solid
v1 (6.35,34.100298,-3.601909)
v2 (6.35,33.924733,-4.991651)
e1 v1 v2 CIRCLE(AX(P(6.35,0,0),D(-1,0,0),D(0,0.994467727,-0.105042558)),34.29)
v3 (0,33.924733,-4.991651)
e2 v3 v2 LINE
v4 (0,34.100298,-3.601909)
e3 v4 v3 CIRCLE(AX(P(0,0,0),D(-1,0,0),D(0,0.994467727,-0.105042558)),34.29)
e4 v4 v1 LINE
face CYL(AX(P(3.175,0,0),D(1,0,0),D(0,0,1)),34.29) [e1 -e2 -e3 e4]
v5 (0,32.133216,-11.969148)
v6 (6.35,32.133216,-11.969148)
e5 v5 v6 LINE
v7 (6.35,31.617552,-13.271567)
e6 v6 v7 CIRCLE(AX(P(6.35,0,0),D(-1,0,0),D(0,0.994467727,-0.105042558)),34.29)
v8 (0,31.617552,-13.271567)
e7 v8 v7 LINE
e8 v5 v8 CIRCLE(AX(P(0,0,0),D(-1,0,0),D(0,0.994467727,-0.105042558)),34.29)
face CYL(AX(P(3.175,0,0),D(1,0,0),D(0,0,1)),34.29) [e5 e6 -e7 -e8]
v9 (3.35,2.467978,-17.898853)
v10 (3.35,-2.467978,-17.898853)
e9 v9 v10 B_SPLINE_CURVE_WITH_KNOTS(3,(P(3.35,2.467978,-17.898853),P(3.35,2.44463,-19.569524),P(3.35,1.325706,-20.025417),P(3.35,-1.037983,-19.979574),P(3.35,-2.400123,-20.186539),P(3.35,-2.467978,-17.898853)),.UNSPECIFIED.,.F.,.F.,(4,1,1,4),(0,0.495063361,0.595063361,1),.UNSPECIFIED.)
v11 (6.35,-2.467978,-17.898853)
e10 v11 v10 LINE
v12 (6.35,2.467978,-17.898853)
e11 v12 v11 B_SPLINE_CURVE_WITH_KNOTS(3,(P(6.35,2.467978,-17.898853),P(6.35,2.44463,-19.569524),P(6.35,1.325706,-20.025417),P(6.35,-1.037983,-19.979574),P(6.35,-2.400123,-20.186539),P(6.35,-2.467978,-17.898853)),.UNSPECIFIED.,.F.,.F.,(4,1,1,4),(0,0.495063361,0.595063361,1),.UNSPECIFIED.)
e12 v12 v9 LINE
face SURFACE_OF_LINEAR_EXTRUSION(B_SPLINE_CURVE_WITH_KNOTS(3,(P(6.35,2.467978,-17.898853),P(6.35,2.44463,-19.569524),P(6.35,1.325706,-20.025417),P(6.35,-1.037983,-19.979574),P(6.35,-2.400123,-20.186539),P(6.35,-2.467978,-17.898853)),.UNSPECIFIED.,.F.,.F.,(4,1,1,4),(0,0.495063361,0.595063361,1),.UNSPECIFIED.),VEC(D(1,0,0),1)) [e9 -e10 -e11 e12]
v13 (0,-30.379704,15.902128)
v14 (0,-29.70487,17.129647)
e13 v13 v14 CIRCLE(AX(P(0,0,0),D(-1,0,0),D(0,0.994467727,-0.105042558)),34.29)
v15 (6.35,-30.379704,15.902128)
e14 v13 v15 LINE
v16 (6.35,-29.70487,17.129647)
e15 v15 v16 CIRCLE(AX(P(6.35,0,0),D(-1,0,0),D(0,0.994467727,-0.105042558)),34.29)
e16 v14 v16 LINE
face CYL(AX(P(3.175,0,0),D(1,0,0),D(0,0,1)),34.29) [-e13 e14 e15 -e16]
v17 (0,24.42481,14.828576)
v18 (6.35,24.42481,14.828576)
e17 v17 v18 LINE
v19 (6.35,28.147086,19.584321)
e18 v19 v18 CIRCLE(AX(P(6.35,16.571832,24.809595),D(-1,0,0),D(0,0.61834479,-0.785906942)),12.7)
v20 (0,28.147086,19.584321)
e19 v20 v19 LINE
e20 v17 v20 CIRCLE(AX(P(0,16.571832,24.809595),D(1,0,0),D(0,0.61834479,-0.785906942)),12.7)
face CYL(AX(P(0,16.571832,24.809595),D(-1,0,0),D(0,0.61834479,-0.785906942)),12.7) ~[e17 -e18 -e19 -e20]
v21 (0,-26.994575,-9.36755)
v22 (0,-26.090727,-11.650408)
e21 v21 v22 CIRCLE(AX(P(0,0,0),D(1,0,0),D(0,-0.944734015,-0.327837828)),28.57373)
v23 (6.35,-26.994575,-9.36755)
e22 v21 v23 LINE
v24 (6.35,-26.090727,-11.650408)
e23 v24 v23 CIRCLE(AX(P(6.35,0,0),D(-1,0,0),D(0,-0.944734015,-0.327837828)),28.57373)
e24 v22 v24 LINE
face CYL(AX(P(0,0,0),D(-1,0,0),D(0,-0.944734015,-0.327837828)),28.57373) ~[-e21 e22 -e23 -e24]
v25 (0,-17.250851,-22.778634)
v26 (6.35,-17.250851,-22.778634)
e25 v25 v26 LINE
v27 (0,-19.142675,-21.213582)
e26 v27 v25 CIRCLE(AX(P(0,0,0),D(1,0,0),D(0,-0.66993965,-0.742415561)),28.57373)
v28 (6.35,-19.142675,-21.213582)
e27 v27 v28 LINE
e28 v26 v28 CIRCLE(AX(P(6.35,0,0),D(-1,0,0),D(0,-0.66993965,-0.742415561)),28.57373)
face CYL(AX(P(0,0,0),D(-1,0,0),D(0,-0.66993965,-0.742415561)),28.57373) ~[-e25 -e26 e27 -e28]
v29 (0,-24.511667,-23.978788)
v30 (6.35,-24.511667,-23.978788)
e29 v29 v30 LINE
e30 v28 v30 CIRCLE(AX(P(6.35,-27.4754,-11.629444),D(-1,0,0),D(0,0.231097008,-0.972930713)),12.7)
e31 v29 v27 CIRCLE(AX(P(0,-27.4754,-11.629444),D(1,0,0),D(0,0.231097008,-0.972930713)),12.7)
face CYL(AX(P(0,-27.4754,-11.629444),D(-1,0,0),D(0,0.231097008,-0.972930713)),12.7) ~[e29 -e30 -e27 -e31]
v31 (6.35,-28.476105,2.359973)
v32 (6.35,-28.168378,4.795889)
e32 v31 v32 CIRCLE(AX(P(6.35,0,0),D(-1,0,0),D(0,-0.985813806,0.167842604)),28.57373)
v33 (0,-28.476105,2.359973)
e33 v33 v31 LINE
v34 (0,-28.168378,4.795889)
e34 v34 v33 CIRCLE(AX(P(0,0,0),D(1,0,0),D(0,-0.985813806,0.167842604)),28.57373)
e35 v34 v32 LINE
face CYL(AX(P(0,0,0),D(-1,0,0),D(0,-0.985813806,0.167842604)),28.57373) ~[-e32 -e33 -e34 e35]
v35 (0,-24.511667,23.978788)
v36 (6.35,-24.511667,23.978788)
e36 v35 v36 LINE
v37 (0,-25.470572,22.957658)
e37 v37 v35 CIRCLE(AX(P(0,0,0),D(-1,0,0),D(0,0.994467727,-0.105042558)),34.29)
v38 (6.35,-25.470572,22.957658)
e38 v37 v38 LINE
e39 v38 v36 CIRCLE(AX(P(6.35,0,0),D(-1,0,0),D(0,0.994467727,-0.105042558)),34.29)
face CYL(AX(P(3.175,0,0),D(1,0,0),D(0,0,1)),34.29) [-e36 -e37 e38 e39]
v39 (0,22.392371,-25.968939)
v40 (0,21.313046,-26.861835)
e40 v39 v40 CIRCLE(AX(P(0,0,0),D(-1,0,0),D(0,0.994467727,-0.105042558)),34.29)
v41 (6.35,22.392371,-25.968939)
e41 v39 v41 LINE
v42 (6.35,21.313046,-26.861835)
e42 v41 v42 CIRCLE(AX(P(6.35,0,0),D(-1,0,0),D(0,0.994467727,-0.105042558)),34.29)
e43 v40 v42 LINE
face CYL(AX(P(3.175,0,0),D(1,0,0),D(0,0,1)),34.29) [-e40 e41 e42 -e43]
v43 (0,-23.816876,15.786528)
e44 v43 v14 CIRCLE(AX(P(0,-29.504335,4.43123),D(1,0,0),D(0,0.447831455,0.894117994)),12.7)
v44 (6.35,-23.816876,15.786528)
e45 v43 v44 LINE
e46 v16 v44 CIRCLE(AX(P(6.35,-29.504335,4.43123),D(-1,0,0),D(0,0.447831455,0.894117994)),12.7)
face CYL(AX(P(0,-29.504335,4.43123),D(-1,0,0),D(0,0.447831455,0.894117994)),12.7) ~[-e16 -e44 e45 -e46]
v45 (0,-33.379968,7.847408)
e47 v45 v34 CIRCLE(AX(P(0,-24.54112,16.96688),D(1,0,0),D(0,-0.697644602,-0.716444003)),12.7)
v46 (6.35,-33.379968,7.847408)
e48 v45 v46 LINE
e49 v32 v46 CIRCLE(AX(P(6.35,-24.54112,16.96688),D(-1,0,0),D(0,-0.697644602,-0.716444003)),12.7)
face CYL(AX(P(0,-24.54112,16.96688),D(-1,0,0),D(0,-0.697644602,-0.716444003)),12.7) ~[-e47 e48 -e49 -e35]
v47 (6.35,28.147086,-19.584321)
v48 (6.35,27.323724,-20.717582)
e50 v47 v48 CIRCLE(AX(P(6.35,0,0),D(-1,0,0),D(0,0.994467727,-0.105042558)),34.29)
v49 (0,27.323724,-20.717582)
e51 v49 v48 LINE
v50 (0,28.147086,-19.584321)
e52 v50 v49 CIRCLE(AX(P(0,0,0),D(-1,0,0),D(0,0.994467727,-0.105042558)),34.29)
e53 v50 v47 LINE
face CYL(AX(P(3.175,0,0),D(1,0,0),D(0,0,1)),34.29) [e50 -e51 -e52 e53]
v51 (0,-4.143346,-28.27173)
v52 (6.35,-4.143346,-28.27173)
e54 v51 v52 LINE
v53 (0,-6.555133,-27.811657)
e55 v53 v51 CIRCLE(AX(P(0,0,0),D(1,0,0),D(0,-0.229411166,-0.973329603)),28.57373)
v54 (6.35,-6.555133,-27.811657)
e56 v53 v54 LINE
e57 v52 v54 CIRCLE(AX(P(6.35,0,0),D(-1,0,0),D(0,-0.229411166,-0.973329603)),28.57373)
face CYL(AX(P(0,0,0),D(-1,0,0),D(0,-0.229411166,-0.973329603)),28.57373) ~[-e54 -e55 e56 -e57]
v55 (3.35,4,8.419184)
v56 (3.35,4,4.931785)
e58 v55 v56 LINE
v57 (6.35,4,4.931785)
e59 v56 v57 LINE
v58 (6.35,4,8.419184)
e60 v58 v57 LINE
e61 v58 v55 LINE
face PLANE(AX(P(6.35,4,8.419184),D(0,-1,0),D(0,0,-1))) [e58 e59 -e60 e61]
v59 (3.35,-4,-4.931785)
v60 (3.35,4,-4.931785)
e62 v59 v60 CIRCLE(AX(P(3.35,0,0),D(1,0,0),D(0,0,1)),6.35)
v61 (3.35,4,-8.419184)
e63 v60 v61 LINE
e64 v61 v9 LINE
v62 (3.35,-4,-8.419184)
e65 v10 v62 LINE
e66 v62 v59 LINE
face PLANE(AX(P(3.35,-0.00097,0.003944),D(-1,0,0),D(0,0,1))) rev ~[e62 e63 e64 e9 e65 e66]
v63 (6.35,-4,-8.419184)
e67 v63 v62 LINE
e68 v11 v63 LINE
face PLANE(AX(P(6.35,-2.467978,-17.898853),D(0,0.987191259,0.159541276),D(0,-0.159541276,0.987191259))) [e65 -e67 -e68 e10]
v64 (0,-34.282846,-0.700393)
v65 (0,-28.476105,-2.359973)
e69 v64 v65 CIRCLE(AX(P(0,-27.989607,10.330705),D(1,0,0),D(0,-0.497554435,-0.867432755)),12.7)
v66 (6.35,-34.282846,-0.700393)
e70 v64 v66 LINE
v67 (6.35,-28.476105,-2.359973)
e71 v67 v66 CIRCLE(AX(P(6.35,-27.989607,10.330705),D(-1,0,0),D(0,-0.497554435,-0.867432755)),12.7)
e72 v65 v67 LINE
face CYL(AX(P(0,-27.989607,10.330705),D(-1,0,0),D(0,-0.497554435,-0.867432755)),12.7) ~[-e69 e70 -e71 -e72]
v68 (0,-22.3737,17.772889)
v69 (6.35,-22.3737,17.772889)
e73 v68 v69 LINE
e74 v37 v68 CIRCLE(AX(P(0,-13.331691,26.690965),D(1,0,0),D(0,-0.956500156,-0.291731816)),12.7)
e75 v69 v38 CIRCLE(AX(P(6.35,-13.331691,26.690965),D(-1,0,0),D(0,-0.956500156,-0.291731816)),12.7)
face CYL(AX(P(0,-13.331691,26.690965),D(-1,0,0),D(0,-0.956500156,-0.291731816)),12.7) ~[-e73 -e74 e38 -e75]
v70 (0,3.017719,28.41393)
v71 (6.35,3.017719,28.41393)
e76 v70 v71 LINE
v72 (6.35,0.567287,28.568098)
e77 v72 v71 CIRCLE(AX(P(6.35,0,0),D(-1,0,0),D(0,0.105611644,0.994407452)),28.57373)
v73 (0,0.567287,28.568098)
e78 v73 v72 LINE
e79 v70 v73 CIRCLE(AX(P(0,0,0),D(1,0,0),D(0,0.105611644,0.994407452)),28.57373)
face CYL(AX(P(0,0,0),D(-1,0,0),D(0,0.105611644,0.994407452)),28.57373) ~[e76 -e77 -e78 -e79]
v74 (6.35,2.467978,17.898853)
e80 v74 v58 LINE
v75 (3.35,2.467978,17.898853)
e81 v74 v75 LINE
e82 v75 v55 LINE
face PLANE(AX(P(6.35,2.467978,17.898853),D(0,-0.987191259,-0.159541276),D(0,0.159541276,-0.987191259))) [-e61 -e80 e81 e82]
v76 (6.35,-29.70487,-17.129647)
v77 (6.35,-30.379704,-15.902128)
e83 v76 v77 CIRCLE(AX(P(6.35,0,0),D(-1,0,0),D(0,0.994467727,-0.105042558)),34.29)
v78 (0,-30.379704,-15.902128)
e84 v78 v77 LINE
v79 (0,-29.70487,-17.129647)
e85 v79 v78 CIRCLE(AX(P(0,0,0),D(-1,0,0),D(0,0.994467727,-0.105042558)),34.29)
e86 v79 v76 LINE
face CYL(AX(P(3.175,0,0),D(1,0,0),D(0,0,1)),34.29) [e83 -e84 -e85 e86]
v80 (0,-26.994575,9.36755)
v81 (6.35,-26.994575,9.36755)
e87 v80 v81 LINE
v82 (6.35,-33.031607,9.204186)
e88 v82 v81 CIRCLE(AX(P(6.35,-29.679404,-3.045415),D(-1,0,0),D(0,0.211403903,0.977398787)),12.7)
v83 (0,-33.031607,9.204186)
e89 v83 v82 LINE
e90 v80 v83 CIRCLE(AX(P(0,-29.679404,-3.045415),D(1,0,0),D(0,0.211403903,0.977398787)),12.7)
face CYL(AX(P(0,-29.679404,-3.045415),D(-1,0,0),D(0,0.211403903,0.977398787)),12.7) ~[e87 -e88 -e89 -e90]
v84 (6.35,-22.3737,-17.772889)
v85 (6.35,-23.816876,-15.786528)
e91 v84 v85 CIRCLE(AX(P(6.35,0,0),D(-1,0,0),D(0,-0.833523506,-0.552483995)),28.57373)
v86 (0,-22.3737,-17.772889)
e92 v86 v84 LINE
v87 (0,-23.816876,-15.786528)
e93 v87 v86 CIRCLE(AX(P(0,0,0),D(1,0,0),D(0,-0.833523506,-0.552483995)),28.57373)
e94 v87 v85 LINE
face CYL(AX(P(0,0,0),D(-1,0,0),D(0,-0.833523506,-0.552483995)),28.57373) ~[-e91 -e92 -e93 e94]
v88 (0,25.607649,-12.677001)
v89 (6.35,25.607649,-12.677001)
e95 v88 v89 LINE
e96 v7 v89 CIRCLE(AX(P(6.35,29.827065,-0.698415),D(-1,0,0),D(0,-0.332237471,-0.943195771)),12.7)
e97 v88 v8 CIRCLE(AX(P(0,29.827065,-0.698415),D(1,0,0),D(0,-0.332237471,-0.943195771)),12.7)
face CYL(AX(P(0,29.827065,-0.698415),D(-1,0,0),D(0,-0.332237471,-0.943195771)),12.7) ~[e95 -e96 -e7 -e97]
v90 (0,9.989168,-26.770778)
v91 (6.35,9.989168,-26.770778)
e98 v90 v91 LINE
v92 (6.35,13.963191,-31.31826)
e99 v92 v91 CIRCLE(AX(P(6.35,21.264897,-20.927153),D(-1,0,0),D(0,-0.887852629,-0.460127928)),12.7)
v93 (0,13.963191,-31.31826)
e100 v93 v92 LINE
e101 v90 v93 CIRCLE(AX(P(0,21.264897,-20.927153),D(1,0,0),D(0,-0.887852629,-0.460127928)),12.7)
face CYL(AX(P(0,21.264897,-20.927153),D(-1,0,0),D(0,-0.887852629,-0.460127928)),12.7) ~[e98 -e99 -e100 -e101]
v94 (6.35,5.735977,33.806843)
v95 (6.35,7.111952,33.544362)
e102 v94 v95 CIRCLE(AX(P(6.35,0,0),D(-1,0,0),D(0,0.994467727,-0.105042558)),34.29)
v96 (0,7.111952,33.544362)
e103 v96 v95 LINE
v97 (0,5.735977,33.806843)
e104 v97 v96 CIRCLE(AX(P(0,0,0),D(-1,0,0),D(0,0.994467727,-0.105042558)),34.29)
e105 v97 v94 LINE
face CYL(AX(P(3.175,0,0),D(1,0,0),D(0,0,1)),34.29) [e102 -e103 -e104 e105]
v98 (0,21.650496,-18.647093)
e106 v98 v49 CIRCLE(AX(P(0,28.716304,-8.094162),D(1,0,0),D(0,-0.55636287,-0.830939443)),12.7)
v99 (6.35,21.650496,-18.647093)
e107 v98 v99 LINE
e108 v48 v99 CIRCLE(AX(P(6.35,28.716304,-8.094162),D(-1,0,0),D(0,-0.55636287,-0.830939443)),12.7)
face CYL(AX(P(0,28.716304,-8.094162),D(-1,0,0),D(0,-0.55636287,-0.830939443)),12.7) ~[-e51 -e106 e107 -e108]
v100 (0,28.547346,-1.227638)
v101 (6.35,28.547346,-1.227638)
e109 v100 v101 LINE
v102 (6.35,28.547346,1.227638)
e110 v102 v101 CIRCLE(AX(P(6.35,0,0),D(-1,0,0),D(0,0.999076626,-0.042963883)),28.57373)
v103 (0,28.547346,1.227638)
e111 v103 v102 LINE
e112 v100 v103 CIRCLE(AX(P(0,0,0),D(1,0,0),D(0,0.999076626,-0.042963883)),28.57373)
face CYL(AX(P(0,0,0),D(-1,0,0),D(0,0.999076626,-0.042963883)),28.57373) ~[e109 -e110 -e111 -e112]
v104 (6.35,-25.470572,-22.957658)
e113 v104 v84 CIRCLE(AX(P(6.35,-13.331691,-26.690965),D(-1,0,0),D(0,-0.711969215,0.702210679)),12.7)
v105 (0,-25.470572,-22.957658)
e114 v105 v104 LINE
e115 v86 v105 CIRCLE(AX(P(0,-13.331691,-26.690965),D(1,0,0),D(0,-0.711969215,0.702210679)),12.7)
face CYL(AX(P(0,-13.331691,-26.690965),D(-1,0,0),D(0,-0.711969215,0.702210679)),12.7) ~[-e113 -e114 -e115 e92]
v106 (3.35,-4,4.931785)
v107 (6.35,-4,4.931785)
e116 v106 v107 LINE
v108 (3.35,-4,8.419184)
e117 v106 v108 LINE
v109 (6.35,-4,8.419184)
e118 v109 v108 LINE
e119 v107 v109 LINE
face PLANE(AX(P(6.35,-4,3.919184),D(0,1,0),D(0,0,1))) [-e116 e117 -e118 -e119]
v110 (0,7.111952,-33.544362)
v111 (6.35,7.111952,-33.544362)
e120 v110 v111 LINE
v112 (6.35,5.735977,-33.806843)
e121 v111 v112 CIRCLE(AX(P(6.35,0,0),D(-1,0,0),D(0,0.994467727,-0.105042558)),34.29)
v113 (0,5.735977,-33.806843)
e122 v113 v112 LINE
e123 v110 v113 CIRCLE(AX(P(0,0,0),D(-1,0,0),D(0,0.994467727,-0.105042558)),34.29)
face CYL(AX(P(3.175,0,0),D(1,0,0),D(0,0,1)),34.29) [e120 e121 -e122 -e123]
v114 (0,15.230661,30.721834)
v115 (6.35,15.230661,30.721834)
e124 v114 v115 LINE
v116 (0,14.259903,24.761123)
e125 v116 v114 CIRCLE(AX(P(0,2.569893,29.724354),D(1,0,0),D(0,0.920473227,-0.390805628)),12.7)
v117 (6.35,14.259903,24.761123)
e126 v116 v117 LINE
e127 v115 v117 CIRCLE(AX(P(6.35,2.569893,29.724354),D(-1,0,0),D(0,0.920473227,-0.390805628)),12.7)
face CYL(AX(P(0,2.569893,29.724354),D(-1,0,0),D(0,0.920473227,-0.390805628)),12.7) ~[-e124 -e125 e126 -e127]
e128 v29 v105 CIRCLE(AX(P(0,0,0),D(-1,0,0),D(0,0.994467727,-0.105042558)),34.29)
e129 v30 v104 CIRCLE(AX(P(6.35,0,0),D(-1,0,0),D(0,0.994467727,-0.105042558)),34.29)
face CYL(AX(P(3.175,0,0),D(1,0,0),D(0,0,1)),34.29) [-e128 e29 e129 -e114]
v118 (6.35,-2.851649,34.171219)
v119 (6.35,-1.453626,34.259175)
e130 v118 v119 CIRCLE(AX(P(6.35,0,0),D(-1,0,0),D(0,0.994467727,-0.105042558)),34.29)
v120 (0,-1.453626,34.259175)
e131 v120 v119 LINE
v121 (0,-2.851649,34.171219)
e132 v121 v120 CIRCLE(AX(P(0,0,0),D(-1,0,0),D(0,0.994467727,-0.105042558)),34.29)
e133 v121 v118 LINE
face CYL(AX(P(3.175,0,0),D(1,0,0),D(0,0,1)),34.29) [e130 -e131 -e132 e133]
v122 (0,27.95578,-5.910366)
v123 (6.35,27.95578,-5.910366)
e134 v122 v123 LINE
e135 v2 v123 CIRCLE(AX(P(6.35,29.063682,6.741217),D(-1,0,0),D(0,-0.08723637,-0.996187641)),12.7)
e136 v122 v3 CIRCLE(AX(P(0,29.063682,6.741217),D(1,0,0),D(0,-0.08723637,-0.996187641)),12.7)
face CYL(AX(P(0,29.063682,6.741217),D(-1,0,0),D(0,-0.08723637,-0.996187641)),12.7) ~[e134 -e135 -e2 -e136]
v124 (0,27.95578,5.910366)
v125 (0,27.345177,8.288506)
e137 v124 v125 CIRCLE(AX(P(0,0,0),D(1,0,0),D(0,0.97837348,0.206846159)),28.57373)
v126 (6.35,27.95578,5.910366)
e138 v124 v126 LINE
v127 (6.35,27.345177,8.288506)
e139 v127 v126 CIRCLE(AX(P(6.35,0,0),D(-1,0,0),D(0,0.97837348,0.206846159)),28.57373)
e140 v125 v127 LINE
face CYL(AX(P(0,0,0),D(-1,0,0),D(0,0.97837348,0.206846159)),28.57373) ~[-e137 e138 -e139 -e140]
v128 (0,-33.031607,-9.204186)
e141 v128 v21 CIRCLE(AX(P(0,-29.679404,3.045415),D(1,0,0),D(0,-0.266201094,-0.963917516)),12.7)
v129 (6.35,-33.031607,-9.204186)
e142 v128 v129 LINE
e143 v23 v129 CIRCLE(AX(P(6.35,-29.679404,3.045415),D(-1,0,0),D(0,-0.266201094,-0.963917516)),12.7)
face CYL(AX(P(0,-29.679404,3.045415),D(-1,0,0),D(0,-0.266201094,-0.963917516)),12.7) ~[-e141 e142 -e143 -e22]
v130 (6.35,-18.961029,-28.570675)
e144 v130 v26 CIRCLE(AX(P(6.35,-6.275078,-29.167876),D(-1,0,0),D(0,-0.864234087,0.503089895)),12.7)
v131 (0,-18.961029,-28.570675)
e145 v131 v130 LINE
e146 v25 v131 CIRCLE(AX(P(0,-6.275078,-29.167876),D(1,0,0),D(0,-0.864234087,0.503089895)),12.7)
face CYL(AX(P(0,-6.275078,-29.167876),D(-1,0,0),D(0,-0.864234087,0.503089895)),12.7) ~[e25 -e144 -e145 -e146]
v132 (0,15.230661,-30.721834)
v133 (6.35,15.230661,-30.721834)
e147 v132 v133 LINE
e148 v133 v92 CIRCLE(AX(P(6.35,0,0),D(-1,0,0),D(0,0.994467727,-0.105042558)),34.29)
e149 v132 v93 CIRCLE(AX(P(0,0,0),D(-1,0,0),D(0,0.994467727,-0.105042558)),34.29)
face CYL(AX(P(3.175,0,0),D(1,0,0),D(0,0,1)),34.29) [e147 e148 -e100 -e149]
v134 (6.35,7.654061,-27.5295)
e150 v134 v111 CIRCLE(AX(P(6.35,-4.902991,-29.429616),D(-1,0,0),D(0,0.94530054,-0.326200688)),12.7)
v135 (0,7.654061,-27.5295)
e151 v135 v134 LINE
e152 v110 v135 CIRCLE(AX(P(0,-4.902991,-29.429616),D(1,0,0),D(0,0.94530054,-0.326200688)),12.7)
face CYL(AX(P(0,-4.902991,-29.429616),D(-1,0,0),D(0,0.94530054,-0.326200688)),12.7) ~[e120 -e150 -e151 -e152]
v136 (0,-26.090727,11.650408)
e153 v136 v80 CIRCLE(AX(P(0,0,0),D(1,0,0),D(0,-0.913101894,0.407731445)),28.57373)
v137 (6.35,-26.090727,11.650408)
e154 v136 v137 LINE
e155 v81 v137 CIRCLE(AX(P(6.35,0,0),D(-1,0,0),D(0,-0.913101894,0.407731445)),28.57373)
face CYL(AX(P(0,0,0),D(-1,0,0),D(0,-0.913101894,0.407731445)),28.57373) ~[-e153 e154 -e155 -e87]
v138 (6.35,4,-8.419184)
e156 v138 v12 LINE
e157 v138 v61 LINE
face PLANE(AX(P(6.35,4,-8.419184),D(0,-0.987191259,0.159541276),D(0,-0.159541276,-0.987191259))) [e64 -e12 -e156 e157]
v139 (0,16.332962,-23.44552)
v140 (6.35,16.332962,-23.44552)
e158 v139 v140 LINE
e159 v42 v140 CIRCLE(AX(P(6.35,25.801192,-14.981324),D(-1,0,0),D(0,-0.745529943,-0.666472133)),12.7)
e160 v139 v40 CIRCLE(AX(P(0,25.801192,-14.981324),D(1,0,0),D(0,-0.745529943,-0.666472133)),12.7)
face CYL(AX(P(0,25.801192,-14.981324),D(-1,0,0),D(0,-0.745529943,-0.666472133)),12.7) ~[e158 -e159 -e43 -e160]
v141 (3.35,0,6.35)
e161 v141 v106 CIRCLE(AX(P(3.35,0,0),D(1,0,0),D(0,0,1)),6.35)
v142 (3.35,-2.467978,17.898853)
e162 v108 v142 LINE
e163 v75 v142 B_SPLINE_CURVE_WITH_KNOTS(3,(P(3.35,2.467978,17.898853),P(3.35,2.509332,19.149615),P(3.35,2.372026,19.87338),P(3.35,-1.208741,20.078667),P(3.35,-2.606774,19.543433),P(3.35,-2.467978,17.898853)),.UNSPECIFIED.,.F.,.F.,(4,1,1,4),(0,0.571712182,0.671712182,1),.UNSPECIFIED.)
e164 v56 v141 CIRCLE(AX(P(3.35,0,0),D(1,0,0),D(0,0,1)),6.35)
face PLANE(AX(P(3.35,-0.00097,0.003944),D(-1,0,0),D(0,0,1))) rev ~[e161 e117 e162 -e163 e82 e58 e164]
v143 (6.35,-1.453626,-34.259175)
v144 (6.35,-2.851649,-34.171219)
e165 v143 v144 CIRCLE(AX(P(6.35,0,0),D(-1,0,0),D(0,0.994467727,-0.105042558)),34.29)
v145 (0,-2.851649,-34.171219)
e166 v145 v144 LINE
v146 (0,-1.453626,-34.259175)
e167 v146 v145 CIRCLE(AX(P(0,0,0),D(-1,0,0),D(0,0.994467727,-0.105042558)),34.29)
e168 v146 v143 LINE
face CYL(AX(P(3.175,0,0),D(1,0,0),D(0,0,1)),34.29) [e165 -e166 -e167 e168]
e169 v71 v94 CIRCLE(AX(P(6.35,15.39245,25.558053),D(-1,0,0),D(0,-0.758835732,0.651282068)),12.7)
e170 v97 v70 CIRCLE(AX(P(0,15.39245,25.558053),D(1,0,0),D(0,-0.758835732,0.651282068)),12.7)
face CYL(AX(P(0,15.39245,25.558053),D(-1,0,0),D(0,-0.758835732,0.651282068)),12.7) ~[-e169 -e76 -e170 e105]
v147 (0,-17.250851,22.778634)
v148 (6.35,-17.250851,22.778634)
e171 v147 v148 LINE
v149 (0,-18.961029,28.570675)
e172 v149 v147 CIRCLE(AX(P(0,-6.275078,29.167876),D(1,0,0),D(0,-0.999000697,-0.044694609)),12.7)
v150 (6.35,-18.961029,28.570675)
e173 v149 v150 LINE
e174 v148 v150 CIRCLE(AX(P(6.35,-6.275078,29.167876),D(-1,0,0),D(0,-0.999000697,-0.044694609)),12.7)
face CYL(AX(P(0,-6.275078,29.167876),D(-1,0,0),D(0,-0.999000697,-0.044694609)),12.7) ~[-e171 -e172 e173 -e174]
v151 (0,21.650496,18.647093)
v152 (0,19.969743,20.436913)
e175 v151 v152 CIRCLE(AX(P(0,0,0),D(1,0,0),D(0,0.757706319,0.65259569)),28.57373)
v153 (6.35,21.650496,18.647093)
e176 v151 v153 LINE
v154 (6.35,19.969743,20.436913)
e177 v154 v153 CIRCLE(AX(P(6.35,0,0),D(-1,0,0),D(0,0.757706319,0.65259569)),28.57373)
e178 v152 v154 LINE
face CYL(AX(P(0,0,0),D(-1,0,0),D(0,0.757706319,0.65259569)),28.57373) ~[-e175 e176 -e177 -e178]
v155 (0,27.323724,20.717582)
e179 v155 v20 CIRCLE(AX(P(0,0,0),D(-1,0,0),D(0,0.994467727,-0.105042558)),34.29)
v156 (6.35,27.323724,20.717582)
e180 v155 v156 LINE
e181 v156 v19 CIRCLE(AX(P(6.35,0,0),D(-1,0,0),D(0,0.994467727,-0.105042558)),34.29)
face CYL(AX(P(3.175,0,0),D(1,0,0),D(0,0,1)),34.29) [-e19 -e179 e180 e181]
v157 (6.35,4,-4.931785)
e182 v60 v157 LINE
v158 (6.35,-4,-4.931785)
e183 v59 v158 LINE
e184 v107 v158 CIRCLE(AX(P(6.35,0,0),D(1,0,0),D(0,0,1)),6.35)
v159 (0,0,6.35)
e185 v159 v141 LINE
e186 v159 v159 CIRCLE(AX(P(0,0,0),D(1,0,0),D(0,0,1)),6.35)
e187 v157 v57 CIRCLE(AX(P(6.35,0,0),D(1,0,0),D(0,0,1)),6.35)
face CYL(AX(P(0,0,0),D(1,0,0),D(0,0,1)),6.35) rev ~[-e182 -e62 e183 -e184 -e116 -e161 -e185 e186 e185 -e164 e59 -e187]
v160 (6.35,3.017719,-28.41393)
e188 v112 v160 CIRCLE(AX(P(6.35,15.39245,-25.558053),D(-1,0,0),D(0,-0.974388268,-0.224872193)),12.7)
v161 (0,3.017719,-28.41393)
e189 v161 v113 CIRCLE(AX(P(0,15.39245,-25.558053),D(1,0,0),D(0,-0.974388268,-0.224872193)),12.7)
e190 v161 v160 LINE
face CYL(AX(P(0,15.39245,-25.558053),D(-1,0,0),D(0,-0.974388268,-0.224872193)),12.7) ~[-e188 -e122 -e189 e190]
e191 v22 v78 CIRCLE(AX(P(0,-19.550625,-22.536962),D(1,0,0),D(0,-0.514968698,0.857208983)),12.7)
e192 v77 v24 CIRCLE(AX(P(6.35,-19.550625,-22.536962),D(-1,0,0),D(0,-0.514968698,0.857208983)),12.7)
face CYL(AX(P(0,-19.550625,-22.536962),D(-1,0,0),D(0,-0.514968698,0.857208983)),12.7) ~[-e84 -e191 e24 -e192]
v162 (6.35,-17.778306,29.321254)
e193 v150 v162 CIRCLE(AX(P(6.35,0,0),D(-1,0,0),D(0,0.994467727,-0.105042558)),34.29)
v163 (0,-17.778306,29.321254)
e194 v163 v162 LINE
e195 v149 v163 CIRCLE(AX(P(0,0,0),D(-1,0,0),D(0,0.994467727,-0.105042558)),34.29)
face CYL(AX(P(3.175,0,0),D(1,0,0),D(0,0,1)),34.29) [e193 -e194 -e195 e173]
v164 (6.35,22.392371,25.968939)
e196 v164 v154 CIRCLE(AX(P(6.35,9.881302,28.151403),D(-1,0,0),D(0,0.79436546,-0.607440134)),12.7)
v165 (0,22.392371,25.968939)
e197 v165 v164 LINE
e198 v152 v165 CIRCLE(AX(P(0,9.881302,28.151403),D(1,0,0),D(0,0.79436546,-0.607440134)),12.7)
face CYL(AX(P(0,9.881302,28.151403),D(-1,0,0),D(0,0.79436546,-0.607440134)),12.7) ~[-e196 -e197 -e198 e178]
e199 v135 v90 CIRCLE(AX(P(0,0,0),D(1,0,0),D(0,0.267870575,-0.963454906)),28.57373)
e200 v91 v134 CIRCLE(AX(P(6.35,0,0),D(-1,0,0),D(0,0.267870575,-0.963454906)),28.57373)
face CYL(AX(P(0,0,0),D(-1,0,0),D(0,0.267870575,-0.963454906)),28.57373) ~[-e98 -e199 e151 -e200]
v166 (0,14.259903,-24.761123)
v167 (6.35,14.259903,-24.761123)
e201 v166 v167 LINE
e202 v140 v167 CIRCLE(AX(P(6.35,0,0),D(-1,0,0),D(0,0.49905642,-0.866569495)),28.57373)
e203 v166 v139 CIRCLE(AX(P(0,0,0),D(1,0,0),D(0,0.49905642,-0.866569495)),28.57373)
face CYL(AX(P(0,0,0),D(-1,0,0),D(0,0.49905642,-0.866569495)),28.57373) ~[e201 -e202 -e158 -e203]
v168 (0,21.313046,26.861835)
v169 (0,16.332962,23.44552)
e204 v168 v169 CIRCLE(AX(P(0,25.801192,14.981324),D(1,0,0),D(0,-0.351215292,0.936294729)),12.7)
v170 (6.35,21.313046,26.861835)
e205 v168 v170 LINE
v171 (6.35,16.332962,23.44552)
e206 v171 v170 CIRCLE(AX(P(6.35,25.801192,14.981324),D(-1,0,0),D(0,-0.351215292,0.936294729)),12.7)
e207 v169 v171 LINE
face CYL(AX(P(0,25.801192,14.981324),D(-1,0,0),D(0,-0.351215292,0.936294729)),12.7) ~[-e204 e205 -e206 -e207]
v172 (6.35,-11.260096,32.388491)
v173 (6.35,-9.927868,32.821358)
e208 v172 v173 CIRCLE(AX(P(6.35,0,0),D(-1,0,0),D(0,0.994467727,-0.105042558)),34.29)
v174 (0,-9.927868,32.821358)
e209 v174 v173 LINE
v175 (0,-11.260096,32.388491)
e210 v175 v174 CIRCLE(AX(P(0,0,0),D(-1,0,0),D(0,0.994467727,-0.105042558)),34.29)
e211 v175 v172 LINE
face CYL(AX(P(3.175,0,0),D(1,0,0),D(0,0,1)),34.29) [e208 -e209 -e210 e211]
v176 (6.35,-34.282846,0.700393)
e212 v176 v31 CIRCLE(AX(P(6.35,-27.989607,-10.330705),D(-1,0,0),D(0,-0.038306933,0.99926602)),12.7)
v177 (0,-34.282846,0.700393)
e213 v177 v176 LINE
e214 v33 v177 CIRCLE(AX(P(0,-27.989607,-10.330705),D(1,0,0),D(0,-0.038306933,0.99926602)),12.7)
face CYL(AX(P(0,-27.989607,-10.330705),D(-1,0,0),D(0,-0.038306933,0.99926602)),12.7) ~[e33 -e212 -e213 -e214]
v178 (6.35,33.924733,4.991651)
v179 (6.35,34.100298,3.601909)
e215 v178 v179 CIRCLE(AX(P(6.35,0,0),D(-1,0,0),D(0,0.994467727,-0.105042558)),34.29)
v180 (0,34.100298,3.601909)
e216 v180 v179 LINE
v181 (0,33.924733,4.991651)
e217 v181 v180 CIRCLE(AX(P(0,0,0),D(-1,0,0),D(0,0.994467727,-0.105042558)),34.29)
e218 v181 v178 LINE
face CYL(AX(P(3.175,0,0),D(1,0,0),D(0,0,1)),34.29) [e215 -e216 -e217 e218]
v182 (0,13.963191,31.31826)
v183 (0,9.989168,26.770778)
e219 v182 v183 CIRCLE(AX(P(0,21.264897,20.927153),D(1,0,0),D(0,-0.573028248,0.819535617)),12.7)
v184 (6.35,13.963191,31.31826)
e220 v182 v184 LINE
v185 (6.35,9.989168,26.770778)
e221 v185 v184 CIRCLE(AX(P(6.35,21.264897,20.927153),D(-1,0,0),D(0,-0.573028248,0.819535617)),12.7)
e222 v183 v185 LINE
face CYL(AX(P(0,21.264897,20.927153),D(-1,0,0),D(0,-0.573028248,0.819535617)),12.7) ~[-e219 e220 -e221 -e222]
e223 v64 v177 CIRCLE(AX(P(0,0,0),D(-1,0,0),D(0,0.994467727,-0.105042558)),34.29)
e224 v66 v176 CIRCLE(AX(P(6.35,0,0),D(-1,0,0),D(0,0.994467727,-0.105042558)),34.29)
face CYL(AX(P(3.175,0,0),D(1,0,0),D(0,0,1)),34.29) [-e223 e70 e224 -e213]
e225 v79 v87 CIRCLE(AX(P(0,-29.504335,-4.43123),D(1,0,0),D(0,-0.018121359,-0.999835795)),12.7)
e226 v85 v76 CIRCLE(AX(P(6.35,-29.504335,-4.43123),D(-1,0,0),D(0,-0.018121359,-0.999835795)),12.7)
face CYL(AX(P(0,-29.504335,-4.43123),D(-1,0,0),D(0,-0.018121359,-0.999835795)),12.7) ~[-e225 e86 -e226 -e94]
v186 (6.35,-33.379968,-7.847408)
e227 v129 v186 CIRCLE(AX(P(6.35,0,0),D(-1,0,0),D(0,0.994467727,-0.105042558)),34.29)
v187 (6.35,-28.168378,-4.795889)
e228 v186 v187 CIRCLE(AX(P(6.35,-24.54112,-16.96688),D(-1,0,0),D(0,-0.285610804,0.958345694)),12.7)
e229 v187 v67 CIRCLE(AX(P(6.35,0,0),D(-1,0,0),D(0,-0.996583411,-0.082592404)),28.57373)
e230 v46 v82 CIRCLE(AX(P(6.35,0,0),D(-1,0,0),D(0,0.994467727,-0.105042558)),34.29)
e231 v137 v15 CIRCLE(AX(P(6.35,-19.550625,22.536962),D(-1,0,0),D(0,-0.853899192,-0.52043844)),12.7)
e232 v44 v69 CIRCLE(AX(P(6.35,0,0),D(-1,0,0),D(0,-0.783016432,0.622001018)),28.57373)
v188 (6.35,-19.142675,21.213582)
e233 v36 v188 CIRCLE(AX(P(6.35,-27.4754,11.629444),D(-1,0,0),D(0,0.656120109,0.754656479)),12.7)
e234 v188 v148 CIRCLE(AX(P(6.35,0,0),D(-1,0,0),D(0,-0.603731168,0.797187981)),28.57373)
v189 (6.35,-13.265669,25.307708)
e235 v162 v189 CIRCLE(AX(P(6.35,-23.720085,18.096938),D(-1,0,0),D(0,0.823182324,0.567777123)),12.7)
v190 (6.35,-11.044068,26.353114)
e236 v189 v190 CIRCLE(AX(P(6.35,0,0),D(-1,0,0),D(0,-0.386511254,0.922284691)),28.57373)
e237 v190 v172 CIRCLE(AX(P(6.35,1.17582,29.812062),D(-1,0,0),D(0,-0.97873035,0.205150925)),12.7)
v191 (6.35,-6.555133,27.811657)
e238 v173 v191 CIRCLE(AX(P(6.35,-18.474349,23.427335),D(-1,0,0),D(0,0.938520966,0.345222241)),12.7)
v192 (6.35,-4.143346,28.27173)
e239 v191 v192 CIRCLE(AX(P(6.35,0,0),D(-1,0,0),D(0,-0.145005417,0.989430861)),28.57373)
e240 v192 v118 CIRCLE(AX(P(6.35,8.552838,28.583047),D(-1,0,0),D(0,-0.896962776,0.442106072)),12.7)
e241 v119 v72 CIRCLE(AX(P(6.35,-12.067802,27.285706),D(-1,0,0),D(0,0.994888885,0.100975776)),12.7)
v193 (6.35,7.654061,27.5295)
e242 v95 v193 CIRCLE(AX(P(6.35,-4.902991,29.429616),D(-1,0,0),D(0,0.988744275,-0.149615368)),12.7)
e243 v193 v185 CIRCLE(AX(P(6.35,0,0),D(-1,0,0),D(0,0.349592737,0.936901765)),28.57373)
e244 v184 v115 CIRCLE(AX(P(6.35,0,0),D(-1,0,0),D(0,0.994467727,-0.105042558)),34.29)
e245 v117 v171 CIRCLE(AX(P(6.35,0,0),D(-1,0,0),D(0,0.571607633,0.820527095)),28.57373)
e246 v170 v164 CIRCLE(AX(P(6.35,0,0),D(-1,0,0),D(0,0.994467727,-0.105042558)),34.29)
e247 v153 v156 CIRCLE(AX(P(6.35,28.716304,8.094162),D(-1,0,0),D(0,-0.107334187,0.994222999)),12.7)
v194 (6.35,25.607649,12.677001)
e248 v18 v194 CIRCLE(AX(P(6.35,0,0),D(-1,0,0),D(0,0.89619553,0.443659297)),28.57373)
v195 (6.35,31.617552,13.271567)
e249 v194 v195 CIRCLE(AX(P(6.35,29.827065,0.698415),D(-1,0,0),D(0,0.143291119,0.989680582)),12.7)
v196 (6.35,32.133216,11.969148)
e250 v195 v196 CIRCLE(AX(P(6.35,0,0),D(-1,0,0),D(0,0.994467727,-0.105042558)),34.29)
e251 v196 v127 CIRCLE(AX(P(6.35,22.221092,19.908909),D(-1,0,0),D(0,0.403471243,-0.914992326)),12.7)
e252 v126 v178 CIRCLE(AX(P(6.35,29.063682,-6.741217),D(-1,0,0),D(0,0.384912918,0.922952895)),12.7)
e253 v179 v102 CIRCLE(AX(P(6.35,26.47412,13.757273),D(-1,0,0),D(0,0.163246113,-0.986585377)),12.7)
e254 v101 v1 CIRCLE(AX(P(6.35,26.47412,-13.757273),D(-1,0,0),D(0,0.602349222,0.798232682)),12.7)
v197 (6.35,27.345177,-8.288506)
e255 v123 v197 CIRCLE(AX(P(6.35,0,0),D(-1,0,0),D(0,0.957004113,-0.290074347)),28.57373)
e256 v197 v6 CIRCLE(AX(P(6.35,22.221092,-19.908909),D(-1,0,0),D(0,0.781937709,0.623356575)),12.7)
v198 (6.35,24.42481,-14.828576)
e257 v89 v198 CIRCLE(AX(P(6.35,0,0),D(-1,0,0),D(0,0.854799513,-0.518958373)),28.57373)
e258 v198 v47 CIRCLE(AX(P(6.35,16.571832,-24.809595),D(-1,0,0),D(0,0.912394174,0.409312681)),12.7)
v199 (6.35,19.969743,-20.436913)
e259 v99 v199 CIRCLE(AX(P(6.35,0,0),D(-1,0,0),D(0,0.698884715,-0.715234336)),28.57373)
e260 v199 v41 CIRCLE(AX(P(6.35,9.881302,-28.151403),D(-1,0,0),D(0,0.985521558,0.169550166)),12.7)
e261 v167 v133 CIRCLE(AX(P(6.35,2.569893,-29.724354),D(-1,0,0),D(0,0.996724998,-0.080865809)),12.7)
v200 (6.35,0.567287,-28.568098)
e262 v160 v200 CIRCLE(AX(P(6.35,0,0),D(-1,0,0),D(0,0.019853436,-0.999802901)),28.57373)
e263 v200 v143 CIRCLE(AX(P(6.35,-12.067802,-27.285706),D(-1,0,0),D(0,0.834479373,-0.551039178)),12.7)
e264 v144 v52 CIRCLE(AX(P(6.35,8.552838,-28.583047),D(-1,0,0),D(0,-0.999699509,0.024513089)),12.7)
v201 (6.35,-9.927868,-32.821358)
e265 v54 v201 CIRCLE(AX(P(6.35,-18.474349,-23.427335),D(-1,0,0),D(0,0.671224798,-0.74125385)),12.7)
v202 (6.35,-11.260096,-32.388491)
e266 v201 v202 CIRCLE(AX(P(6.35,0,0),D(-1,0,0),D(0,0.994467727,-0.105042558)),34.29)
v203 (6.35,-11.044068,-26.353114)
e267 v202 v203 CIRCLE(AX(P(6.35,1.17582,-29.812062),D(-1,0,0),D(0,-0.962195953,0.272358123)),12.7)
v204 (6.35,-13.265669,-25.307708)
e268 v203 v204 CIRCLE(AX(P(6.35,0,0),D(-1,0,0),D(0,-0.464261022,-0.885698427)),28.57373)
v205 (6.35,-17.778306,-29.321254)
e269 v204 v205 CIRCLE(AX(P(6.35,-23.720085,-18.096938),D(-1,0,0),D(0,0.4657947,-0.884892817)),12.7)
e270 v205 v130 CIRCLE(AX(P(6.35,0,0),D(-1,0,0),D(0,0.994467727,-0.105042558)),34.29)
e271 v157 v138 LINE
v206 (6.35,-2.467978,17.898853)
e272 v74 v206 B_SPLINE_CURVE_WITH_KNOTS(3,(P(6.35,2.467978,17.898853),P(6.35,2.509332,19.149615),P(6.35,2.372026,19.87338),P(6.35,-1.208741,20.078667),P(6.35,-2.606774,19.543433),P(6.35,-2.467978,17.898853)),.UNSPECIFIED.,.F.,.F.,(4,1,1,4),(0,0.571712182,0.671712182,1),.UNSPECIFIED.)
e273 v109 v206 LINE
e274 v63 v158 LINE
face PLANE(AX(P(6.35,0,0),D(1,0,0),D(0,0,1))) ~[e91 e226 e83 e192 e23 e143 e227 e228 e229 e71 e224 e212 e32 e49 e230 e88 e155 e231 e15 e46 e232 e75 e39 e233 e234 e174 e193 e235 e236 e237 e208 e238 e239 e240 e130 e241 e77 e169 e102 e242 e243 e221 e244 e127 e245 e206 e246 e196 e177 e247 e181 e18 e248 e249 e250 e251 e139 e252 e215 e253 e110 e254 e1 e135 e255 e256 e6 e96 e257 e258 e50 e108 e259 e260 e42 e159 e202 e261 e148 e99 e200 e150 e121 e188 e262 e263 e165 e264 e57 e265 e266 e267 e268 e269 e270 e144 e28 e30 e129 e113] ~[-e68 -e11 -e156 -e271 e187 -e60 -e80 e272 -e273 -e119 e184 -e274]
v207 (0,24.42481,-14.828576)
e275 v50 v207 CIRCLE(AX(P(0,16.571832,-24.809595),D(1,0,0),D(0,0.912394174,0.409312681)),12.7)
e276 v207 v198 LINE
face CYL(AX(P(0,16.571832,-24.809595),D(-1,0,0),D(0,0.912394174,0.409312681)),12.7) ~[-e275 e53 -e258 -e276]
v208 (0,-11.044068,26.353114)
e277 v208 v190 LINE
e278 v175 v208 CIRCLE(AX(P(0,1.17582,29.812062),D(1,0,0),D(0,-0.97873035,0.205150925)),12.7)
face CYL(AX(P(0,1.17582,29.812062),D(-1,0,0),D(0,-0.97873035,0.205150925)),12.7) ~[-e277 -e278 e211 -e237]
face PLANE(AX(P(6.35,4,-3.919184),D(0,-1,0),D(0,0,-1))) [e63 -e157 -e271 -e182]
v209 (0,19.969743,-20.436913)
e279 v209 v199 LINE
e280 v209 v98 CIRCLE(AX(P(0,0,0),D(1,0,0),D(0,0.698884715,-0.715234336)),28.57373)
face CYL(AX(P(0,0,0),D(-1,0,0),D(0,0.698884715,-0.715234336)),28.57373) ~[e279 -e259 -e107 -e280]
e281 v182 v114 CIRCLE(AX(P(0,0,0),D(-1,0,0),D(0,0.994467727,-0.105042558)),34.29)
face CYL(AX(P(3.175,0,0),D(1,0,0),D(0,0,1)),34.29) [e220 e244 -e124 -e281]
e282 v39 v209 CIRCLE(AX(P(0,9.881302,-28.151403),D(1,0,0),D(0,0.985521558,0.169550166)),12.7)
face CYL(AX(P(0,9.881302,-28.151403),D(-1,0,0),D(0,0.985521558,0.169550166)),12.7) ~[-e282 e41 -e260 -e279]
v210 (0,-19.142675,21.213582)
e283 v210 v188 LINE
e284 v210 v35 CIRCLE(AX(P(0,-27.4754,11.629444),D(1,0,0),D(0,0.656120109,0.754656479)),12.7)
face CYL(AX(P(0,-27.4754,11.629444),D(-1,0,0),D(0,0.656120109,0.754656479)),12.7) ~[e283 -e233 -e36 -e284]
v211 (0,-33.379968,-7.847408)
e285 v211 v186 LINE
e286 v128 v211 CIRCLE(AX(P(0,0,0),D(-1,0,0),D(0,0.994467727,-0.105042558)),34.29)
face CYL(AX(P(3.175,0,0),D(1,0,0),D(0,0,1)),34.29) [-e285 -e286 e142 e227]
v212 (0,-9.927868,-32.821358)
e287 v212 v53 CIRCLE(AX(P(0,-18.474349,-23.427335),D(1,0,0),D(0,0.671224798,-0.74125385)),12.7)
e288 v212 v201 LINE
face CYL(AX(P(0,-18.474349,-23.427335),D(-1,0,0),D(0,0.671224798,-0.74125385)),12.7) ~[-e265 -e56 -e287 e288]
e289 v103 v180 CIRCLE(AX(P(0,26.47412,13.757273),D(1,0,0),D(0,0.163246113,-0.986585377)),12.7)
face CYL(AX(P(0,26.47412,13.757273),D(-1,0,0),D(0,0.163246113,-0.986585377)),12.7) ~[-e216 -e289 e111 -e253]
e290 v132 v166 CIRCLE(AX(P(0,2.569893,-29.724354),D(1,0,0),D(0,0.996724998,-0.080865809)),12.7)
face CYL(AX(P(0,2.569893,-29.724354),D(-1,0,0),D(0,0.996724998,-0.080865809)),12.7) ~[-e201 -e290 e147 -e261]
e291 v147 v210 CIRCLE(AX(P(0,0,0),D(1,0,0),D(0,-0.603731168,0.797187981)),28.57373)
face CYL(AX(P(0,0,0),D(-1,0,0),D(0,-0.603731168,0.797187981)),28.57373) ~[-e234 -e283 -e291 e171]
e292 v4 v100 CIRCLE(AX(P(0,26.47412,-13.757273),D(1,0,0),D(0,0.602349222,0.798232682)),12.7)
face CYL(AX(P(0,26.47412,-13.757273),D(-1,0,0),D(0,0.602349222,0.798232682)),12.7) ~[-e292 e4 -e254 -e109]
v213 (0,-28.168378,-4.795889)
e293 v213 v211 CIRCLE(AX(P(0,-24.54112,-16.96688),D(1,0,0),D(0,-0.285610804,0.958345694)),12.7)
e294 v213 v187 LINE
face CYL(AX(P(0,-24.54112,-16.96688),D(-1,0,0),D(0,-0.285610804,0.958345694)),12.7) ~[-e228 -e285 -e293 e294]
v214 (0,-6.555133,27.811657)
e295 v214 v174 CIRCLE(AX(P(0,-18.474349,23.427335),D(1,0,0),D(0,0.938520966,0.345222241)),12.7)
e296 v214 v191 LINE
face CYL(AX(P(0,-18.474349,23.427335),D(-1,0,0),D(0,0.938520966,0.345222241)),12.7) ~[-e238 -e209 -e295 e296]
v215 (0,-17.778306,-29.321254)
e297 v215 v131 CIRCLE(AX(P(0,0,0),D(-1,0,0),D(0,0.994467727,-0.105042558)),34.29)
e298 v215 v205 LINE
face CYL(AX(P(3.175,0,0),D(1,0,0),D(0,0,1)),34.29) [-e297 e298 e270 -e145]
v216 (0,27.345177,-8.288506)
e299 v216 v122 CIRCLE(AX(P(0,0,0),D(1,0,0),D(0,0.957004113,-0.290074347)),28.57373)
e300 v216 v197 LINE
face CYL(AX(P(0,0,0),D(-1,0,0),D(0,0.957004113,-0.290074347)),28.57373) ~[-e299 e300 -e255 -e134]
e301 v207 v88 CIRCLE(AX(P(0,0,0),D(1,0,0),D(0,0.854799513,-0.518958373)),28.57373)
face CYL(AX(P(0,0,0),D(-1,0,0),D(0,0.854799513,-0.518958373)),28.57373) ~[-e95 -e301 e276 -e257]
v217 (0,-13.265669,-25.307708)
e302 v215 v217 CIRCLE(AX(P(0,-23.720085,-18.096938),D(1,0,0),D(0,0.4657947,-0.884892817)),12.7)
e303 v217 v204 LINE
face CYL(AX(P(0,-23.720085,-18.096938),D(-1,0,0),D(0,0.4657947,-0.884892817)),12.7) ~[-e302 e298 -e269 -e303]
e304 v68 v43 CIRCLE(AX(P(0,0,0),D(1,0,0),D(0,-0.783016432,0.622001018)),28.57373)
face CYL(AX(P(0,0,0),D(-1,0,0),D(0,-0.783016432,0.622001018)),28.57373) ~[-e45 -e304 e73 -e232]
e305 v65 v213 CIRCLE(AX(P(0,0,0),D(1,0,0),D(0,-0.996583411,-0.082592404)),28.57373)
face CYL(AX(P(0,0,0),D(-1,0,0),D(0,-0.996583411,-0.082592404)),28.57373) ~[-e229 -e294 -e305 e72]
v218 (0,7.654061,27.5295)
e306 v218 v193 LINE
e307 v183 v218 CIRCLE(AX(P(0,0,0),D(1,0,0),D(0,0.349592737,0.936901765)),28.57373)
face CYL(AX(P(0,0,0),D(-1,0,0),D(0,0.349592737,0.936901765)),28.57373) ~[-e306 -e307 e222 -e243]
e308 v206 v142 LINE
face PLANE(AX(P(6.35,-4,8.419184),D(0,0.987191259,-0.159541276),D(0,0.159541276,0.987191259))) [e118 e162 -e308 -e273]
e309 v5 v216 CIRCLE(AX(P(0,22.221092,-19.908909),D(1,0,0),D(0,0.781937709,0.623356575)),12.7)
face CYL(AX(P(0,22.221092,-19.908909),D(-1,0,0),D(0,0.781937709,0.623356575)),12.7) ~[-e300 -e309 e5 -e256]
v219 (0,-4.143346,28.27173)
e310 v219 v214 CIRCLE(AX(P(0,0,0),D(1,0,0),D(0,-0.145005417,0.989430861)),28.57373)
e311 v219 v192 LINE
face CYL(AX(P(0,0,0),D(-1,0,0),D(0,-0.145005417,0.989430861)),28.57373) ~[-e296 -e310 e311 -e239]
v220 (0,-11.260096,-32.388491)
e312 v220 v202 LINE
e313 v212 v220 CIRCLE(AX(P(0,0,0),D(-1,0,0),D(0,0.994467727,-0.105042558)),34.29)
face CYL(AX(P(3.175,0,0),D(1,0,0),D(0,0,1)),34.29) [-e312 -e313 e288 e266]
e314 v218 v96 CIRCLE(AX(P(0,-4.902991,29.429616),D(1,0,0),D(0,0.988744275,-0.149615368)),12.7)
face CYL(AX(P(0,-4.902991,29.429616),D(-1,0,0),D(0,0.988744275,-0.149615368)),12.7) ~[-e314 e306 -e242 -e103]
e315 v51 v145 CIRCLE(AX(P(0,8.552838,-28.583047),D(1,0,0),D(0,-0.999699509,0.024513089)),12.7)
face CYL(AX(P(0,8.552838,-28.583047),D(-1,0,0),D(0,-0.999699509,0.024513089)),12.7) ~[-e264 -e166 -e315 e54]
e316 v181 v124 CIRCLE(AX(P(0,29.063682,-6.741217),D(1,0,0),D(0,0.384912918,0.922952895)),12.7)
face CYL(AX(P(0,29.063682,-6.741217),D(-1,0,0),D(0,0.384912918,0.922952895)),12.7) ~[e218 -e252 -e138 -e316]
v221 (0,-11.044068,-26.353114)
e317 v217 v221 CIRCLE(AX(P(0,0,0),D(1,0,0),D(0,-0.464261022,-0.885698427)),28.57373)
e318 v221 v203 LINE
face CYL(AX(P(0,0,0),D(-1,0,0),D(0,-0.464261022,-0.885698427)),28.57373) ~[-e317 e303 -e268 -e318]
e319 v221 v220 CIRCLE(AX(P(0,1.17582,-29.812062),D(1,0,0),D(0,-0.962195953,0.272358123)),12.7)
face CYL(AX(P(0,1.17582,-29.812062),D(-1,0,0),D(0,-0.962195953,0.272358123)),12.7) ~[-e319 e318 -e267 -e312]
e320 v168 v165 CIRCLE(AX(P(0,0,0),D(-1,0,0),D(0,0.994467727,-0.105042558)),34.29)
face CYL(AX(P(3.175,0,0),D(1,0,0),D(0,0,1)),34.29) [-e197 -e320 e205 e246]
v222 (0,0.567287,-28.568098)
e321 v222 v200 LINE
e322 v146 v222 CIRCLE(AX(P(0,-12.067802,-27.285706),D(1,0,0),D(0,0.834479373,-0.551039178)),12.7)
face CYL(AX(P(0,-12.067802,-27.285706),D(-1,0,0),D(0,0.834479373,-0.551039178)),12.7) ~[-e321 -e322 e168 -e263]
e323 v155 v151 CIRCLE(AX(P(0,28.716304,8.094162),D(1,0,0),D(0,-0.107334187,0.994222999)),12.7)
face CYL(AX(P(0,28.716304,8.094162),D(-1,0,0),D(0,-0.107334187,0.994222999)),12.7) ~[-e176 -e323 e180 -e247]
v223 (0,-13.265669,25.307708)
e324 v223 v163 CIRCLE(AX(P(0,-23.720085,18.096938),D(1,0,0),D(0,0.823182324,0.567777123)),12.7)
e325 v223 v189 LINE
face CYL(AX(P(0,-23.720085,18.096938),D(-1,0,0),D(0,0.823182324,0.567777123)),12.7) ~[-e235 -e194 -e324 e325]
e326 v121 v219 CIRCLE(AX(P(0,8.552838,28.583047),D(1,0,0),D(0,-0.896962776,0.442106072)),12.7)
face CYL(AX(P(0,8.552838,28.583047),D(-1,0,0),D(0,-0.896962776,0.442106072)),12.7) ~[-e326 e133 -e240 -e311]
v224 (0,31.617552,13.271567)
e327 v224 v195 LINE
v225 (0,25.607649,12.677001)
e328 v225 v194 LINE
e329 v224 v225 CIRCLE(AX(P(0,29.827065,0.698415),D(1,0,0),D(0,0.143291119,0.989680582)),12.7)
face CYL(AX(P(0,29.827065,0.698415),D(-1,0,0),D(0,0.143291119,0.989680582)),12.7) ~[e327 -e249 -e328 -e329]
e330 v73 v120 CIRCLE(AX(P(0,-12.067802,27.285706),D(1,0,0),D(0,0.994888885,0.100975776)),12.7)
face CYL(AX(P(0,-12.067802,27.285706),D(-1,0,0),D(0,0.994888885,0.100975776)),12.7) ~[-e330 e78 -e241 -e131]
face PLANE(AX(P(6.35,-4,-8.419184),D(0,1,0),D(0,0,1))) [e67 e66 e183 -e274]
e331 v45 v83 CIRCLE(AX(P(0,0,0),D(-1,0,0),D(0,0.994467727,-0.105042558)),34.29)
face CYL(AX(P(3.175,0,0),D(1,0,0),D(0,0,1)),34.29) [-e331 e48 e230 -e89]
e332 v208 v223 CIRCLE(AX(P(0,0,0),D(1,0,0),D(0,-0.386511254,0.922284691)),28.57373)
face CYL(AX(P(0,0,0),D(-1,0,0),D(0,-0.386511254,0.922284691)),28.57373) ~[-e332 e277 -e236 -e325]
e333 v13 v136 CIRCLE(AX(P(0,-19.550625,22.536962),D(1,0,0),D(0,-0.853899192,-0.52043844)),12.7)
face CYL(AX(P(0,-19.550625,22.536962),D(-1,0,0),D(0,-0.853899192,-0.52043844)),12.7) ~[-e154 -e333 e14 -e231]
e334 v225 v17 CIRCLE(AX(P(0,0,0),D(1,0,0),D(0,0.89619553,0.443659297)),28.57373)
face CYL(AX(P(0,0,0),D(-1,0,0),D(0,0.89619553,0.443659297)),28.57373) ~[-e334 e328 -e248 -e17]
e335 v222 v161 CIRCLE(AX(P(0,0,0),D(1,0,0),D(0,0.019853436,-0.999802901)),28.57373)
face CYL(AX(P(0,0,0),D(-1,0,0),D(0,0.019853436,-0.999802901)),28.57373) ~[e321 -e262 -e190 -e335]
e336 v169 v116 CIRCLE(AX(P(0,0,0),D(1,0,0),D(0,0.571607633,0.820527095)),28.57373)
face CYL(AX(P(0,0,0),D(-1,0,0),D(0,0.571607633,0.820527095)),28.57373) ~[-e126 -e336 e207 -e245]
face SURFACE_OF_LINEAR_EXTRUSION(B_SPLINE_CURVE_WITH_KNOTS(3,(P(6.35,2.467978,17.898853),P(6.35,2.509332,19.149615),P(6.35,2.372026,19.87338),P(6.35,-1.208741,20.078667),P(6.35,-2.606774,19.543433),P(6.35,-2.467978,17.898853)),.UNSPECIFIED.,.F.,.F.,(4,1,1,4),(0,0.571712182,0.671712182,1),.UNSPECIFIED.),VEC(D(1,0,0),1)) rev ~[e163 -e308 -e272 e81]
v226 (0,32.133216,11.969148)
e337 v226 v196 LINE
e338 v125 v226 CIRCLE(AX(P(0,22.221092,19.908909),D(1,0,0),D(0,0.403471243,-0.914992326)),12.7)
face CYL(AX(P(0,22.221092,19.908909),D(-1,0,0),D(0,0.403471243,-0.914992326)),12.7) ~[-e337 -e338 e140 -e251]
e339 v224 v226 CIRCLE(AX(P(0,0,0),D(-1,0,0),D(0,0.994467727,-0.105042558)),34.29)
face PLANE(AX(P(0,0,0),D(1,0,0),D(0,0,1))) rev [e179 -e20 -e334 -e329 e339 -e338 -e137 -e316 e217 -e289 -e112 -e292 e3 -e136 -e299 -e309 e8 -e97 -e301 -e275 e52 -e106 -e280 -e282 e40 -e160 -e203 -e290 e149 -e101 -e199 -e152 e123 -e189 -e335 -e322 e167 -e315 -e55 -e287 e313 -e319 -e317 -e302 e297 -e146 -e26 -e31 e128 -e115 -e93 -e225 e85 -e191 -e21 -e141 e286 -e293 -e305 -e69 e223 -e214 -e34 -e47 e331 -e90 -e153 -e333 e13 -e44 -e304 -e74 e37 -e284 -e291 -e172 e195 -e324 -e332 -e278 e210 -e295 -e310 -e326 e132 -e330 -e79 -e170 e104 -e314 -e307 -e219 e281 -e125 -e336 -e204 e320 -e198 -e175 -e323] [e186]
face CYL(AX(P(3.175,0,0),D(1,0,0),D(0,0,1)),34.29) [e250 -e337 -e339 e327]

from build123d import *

# Parameters (mm, degrees)
BASPROSKE_W        = 6.35
BASPROSKE_H        = 34.29
TOOTHCUT_DEPTH     = 49.907368565
TEETHCUTS_COUNT    = 25
TEETHCUTS_ANGLE    = 345.6
BORSKE_R           = 6.35
BORE_DEPTH         = 50.8000508
CUT_EXTRUDE1_DEPTH = 3


with BuildPart() as part:
    # BasProSke → Base-Revolve (revolve)
    with BuildSketch(Plane(origin=(0, 0, 0), x_dir=(1, 0, 0), z_dir=(0, 1, 0)), mode=Mode.PRIVATE) as base_revolve_sk:
        with Locations((3.175, 17.145)):
            Rectangle(BASPROSKE_W, BASPROSKE_H)
    revolve(base_revolve_sk.sketch.rotate(Axis((-10, 0, 0), (1, 0, 0)), 180), axis=Axis((-10, 0, 0), (1, 0, 0)))

    # TooCutSke → ToothCut (cut, through all)
    with BuildSketch(Plane(origin=(0, 0, 0), x_dir=(0, 0, -1), z_dir=(1, 0, 0))):
        with BuildLine():
            ThreePointArc((1.227638411, 28.547345762), (0, 28.57373), (-1.227638411, 28.547345762))
            ThreePointArc((-1.227638411, 28.547345762), (-2.085725605, 31.480614743), (-3.619717638, 34.123955242))
            ThreePointArc((-3.619717638, 34.123955242), (0, 34.3154), (3.619717638, 34.123955242))
            ThreePointArc((3.619717638, 34.123955242), (2.085725605, 31.480614743), (1.227638411, 28.547345762))
        make_face()
    toothcut = extrude(amount=TOOTHCUT_DEPTH, mode=Mode.SUBTRACT)

    # TeethCuts: ToothCut ×25 about axis
    teethcuts_axis = Axis((-10, 0, 0), (1, 0, 0))
    for i in range(1, TEETHCUTS_COUNT):
        add(toothcut.rotate(teethcuts_axis, i * TEETHCUTS_ANGLE / (TEETHCUTS_COUNT - 1)), mode=Mode.SUBTRACT)

    # BorSke → Bore (cut, symmetric)
    with BuildSketch(Plane(origin=(0, 0, 0), x_dir=(0, 0, -1), z_dir=(1, 0, 0))):
        with Locations(Location((0, 0, 0), (0, 0, 180))):
            Circle(BORSKE_R)
    extrude(amount=BORE_DEPTH, both=True, mode=Mode.SUBTRACT)

    # Sketch1 → Cut-Extrude1 (cut)
    with BuildSketch(Plane(origin=(6.35, 0, 0), x_dir=(0, 0, -1), z_dir=(1, 0, 0))):
        with BuildLine():
            Line((17.898853189, -2.467978147), (8.419183588, -4))
            Line((8.419183588, -4), (3.919183588, -4))
            add(Edge.make_bspline(
                [(3.919183588, -4), (0, -7.2), (-3.919183588, -4)],
                knots=[0, 0, 0, 1, 1, 1], degree=2))
            Line((-3.919183588, -4), (-8.419183588, -4))
            Line((-8.419183588, -4), (-17.898853189, -2.467978147))
            add(Edge.make_bspline(
                [(-17.898853189, 2.467978147), (-19.149615056, 2.509332033), (-19.873380367, 2.372025905), (-20.078667352, -1.208741201), (-19.543433152, -2.606773936), (-17.898853189, -2.467978147)],
                knots=[0, 0, 0, 0, 0.571712182, 0.671712182, 1, 1, 1, 1], degree=3))
            Line((-17.898853189, 2.467978147), (-8.419183588, 4))
            Line((-8.419183588, 4), (-3.919183588, 4))
            add(Edge.make_bspline(
                [(3.919183588, 4), (0, 7.2), (-3.919183588, 4)],
                knots=[0, 0, 0, 1, 1, 1], degree=2))
            Line((3.919183588, 4), (8.419183588, 4))
            Line((8.419183588, 4), (17.898853189, 2.467978147))
            add(Edge.make_bspline(
                [(17.898853189, 2.467978147), (19.569523565, 2.444629682), (20.025416522, 1.325706455), (19.979573656, -1.037983093), (20.186538624, -2.400122897), (17.898853189, -2.467978147)],
                knots=[0, 0, 0, 0, 0.495063361, 0.595063361, 1, 1, 1, 1], degree=3))
        make_face()
    extrude(amount=-CUT_EXTRUDE1_DEPTH, mode=Mode.SUBTRACT)


solid = part.part
